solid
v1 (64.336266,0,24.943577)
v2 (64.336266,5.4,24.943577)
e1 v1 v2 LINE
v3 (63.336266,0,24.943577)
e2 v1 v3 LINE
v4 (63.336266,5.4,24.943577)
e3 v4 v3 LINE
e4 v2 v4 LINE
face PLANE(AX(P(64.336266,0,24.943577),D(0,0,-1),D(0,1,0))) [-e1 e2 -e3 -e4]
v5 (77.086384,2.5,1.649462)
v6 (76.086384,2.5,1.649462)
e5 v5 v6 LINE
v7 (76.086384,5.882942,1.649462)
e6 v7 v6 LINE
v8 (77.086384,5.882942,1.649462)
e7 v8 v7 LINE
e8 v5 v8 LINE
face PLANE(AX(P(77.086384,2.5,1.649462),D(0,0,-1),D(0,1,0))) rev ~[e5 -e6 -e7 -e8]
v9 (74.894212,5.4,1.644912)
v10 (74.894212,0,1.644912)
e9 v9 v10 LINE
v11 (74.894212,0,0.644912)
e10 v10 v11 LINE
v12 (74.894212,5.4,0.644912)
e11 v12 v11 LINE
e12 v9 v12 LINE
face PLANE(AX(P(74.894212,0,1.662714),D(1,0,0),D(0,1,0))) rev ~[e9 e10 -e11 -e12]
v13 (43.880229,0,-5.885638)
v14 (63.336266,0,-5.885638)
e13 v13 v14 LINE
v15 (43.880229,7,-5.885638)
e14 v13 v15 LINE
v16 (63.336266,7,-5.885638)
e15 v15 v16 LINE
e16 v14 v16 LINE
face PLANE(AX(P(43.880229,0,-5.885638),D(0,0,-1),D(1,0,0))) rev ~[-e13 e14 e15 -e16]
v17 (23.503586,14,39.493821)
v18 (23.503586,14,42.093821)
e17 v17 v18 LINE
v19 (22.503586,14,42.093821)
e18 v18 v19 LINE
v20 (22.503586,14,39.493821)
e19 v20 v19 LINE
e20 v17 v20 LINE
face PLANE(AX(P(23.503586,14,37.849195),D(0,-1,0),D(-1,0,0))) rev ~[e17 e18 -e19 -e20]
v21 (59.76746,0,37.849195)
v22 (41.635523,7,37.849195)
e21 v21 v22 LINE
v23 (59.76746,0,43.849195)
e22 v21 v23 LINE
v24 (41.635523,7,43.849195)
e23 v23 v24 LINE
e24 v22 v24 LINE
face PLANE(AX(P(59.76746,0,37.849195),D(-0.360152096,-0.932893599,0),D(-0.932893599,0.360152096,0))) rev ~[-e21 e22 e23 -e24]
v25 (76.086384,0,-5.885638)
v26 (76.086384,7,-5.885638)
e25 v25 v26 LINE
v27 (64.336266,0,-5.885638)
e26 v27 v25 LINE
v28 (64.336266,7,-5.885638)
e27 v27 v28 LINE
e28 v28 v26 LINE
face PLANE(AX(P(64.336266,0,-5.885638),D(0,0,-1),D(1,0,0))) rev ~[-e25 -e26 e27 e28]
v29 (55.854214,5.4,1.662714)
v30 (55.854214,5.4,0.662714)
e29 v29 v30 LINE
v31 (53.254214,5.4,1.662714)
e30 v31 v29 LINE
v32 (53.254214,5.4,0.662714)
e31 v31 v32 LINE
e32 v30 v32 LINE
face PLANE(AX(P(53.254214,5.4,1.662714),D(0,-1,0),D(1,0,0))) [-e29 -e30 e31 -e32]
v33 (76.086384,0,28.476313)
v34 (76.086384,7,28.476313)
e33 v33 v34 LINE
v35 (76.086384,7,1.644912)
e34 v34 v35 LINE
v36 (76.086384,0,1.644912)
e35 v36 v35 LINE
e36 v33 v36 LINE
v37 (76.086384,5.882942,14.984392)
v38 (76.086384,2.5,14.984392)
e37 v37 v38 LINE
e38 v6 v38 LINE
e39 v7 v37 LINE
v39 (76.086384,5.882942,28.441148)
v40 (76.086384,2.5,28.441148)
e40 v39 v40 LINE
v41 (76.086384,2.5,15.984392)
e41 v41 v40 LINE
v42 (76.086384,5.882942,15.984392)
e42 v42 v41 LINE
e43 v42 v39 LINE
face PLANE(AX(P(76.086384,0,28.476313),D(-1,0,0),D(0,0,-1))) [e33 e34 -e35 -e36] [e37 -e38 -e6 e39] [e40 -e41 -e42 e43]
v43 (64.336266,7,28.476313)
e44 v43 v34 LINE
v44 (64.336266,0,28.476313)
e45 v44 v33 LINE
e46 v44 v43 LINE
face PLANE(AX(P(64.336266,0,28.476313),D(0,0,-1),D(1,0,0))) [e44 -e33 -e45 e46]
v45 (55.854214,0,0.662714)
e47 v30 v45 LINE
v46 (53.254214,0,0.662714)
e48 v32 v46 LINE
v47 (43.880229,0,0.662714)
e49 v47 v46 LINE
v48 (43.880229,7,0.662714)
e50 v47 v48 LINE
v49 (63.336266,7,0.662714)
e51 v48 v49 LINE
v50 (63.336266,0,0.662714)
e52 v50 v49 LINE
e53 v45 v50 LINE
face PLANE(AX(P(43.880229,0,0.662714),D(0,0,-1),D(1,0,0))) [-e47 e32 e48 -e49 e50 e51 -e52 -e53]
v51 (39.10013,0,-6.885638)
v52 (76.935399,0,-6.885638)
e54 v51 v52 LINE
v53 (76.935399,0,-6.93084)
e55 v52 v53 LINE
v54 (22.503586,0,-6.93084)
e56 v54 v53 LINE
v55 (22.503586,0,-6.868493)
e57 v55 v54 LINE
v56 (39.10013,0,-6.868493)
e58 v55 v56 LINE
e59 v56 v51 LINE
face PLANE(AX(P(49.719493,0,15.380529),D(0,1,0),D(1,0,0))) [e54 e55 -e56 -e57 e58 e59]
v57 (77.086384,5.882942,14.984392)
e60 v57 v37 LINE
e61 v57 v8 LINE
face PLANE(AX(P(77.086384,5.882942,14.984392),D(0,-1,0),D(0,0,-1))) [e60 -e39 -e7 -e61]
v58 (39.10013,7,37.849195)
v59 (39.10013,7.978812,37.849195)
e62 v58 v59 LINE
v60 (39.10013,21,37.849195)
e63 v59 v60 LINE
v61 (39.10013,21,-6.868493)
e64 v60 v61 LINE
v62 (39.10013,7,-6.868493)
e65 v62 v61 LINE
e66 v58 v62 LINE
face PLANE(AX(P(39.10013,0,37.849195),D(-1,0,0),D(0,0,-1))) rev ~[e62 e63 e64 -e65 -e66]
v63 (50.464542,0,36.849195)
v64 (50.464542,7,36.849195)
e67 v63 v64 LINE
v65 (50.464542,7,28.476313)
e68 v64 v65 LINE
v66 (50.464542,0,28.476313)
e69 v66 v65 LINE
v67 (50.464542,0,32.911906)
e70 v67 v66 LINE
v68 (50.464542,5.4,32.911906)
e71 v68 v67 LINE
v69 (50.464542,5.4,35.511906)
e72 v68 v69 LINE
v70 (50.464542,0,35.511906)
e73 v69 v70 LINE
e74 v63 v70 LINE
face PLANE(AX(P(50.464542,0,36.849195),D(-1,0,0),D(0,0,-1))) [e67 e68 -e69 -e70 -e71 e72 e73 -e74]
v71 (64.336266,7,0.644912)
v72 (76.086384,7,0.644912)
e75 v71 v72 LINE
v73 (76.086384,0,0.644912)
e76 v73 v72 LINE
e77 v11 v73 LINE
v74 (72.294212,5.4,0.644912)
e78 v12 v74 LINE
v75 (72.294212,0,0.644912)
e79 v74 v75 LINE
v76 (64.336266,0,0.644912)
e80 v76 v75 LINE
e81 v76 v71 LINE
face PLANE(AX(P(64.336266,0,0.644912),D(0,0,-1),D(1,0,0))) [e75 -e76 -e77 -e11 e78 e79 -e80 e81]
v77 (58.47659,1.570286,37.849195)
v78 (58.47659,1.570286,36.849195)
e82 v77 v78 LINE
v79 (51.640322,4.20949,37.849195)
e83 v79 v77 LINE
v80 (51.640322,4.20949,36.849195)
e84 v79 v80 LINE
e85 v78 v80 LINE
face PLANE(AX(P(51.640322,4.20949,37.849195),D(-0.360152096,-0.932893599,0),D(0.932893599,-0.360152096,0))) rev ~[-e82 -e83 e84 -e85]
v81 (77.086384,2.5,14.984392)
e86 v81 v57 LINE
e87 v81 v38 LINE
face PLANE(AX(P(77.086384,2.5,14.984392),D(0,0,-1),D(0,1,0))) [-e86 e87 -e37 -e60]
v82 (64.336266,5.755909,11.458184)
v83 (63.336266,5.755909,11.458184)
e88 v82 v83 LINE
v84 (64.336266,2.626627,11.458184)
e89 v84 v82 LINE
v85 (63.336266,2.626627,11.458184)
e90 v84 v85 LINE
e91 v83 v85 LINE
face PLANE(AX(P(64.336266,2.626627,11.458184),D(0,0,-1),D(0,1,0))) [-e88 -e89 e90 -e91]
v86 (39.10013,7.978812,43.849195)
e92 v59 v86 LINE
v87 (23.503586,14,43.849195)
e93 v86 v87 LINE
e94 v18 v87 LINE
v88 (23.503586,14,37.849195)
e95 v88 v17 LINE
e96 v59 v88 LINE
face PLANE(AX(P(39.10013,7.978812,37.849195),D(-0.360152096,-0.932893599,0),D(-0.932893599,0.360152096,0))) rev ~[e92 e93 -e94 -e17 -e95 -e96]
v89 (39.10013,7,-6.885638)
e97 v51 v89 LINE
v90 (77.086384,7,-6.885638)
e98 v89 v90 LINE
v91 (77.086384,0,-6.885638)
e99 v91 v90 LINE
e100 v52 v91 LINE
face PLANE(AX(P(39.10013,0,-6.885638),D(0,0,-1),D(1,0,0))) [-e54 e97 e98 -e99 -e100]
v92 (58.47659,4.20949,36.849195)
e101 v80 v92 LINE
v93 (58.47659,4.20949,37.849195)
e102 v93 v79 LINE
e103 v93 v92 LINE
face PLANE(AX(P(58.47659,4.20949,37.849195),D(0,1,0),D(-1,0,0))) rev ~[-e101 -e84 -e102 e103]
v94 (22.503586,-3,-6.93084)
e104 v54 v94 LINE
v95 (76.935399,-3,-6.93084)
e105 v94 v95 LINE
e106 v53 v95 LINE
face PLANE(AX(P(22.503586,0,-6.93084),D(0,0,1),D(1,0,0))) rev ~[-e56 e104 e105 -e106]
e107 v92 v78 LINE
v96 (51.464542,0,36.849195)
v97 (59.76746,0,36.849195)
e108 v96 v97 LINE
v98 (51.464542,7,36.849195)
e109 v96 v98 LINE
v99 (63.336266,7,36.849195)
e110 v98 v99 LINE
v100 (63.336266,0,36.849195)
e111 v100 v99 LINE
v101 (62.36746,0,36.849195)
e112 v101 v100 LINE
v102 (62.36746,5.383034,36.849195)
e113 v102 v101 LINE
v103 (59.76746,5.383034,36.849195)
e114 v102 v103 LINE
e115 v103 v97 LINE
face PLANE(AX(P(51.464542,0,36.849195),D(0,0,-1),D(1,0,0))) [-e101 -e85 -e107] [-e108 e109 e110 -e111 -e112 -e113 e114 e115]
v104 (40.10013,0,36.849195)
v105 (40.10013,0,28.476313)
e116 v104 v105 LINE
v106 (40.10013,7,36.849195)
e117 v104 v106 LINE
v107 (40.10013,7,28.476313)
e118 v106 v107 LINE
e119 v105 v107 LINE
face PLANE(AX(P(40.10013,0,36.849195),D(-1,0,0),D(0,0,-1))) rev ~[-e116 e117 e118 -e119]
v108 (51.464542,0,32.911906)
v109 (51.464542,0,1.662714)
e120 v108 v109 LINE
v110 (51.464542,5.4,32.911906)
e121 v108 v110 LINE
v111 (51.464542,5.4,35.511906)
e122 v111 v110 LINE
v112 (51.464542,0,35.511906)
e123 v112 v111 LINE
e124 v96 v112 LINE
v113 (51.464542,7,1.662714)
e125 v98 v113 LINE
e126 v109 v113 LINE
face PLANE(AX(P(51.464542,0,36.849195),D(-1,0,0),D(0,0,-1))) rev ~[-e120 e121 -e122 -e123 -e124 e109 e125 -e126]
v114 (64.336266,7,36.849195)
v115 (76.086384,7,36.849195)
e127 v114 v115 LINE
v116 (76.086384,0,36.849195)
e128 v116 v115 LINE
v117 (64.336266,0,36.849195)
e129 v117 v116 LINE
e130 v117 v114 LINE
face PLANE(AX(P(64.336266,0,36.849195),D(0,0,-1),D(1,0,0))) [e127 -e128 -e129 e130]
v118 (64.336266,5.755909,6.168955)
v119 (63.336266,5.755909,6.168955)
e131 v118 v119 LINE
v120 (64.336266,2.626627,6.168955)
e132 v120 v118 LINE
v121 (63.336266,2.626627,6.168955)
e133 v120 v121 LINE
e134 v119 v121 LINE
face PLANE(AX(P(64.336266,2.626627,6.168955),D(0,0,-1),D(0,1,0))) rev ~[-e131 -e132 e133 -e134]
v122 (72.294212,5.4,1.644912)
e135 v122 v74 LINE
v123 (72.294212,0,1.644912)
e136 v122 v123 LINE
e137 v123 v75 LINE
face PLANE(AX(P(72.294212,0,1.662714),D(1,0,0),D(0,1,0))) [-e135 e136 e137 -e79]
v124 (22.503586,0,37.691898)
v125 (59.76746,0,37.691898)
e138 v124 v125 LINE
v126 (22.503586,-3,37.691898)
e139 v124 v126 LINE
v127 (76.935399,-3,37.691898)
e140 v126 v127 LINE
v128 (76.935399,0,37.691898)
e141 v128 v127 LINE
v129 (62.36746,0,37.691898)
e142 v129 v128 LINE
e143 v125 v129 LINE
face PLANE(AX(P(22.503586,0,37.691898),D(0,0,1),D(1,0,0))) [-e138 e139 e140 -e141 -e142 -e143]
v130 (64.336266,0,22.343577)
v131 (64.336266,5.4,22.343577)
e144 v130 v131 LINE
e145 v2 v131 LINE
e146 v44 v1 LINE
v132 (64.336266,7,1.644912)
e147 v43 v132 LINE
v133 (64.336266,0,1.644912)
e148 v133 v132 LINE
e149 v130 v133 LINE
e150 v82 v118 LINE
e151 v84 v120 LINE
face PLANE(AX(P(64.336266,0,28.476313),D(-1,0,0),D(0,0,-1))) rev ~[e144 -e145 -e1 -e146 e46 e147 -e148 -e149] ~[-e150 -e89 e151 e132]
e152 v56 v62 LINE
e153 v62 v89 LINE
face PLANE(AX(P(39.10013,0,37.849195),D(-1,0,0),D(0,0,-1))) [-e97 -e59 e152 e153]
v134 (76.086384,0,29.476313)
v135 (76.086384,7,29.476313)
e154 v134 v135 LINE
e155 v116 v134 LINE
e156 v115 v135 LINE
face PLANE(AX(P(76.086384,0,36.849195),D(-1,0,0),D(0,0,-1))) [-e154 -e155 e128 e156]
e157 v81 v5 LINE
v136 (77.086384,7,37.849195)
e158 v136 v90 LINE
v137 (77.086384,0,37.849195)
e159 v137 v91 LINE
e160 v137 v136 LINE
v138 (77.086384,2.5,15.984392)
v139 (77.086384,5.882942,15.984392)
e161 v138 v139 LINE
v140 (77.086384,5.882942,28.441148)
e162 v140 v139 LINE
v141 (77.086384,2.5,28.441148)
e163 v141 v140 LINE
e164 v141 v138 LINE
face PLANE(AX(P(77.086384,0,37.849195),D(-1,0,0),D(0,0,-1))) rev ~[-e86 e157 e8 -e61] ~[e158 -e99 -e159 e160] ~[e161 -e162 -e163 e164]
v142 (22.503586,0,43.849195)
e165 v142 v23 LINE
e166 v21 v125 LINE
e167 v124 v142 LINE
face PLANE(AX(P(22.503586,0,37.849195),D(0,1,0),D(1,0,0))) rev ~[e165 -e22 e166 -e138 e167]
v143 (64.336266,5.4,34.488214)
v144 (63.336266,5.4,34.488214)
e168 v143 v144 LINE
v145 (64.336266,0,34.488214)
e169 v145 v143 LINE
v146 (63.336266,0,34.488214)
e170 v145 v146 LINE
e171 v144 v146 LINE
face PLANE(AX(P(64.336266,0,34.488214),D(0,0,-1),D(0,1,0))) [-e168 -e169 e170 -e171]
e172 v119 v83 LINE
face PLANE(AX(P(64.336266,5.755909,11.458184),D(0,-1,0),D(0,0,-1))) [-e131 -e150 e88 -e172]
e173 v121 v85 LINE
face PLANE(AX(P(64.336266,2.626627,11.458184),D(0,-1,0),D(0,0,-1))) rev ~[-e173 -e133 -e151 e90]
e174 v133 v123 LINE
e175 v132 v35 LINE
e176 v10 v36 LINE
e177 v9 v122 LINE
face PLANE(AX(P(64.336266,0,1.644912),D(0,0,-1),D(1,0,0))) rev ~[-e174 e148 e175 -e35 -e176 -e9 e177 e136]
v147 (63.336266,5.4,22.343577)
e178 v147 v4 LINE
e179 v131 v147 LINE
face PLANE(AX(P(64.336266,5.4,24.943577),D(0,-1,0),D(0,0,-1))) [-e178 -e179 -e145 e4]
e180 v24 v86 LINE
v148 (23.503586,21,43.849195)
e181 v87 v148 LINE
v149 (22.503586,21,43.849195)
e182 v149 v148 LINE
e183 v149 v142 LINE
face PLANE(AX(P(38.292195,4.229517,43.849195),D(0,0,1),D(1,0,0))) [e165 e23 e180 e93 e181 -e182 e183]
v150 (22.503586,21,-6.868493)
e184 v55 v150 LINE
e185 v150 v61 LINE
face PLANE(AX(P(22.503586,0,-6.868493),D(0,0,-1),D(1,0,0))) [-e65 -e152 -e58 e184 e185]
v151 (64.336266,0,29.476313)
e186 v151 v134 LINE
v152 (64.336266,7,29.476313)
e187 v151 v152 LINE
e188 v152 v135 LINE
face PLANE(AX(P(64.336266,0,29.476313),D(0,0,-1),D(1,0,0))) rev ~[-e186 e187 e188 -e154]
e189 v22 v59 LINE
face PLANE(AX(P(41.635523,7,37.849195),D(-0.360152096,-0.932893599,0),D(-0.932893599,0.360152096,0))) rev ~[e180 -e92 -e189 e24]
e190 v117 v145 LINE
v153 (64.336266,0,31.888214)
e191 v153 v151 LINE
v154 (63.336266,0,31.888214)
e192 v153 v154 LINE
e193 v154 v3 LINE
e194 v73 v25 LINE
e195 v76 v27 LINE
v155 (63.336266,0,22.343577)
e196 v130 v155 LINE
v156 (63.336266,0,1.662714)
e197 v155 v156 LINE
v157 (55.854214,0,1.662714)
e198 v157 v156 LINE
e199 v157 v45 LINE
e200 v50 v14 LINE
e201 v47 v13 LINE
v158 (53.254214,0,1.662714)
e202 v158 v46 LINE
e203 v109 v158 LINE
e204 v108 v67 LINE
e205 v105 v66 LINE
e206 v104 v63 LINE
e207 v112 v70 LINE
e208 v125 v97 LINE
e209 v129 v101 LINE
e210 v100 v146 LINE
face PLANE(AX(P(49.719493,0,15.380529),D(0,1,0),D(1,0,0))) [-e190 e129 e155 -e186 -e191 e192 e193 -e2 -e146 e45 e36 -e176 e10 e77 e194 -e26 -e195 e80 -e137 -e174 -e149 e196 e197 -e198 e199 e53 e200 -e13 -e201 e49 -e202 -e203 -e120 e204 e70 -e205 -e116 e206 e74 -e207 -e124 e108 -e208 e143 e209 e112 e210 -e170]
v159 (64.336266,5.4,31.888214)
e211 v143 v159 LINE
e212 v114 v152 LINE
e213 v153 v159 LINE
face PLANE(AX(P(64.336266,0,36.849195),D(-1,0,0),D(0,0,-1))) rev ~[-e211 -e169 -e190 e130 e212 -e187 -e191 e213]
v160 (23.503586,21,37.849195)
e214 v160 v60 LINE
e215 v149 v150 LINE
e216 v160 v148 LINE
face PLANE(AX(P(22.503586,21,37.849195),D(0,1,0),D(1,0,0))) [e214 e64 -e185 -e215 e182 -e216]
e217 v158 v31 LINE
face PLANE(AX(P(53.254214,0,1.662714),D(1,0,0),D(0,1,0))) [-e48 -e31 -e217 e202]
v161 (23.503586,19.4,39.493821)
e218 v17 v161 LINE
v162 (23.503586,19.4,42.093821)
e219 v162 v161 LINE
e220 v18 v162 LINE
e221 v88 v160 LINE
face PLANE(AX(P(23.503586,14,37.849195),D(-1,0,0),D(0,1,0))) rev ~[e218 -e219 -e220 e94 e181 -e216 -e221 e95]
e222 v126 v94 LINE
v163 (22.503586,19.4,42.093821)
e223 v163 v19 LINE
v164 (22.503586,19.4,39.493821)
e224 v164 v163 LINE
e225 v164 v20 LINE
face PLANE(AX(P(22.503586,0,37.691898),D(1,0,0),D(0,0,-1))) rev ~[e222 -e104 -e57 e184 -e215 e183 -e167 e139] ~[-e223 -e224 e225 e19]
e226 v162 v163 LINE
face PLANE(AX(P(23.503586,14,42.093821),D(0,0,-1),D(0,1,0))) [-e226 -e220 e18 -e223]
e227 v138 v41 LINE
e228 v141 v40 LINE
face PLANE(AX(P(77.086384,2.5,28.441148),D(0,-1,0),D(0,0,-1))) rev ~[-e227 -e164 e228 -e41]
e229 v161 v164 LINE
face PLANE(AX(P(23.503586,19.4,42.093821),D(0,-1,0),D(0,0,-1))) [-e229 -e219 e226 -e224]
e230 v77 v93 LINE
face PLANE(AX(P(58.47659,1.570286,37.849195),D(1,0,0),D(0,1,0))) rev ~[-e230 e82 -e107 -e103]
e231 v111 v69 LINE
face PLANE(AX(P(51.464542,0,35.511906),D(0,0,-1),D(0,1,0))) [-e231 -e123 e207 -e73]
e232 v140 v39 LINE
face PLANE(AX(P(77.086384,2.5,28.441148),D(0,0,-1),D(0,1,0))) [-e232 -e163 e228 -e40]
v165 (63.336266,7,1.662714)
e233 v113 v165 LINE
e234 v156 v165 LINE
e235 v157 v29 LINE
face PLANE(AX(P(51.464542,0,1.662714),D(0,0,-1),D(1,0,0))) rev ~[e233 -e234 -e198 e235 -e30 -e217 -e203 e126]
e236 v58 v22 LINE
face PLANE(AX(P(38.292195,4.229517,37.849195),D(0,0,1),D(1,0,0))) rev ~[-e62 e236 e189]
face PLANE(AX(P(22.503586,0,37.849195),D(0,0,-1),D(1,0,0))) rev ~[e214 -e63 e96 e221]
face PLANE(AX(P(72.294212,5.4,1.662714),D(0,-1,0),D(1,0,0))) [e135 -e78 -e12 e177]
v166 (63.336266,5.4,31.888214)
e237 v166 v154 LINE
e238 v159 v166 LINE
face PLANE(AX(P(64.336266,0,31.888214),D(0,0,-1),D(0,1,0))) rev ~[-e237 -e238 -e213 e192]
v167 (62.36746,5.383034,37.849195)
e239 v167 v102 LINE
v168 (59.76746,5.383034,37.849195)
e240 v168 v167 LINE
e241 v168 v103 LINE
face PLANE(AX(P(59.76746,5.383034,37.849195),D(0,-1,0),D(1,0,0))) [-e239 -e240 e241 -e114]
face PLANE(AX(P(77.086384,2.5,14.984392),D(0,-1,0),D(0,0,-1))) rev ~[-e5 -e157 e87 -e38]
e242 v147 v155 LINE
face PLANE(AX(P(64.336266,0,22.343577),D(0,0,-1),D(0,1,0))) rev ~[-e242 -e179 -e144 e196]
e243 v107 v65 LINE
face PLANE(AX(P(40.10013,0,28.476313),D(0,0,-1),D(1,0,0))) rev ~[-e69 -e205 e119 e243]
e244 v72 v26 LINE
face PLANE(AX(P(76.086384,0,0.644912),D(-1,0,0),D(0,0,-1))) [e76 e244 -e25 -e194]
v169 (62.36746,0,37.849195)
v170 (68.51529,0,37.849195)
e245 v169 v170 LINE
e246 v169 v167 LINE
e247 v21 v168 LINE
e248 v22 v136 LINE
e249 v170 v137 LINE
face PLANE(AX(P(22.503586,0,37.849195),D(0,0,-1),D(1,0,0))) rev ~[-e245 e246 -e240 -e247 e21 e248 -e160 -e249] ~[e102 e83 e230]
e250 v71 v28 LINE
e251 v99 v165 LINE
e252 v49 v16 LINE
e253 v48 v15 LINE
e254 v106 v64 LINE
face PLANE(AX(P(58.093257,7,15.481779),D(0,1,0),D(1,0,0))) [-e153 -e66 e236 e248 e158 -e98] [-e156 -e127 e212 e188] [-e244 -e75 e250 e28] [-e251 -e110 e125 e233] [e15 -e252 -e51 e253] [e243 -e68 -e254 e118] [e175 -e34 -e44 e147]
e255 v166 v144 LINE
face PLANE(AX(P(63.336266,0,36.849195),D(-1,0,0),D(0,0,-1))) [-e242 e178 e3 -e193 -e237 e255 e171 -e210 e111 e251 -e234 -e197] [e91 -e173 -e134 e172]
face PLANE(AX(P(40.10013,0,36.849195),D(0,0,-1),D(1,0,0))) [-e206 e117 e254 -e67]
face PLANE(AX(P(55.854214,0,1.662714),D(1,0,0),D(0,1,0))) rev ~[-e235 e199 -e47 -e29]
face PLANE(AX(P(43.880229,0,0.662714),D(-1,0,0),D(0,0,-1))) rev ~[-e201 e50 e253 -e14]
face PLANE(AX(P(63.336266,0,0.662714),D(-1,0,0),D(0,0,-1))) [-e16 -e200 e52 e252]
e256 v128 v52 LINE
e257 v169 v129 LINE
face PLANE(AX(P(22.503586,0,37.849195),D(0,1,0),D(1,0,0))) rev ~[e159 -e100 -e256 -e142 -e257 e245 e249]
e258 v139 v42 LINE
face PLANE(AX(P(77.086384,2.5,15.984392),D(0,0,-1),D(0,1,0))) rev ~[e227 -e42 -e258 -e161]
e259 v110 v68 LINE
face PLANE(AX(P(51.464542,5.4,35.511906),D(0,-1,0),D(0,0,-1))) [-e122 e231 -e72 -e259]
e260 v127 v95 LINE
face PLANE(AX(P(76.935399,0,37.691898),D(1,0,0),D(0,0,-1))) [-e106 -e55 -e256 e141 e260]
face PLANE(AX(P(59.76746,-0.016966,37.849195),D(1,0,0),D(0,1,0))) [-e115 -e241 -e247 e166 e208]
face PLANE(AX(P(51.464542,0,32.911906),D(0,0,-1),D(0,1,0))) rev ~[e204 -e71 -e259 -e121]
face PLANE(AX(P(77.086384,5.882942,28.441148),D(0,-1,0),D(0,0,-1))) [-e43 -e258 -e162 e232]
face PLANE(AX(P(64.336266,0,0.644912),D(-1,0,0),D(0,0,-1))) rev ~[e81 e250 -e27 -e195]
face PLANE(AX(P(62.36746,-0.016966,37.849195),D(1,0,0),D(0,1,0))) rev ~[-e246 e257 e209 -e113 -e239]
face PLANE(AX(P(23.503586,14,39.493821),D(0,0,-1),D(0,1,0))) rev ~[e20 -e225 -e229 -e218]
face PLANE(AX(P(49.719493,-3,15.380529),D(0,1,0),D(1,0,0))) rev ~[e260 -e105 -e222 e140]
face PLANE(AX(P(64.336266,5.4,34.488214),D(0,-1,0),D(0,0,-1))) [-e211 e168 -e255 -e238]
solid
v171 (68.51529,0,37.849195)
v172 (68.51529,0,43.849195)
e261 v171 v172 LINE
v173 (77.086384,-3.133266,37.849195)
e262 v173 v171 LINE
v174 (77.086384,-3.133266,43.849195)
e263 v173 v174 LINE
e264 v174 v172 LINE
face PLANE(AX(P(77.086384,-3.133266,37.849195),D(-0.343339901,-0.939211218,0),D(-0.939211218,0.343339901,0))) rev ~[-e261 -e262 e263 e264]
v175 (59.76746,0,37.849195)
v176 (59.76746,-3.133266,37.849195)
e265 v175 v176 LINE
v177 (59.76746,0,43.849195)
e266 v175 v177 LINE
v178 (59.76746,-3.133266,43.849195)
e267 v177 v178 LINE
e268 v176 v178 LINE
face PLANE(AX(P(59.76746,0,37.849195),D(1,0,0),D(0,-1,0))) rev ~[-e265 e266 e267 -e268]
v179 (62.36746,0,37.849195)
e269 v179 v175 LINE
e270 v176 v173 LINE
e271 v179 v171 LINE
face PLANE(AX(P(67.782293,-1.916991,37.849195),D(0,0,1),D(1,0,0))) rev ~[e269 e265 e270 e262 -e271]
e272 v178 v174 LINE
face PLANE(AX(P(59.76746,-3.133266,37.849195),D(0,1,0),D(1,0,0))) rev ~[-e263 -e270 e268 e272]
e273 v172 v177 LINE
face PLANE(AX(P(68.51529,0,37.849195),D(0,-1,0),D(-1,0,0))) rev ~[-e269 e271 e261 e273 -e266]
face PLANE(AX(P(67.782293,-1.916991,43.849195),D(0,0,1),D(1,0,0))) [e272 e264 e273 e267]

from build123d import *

# Parameters (mm, degrees)
ESBO_O2_W                 = 37.986253967
ESBO_O2_H                 = 44.734832406
ESBO_O2_W_2               = 11.750117276
ESBO_O2_H_2               = 7.37288194
ESBO_O2_W_3               = 11.871724424
ESBO_O2_H_3               = 35.18648103
ESBO_O2_H_4               = 26.831400584
ESBO_O2_H_5               = 6.530549882
ESBO_O2_W_4               = 19.456037254
ESBO_O2_H_6               = 6.548351376
ESBO_O2_W_5               = 10.364412267
ESBO_O2_H_7               = 8.37288194
RESSALTO_EXTRUS_O3_DEPTH  = 7
ESBO_O3_W                 = 2.6
ESBO_O3_H                 = 5.4
CORTE_EXTRUS_O1_DEPTH     = 7
ESBO_O4_W                 = 2.6
ESBO_O4_H                 = 5.4
CORTE_EXTRUS_O2_DEPTH     = 7
ESBO_O5_W                 = 2.6
ESBO_O5_H                 = 5.4
CORTE_EXTRUS_O3_DEPTH     = 7
ESBO_O6_W                 = 2.6
ESBO_O6_H                 = 5.4
CORTE_EXTRUS_O4_DEPTH     = 7
ESBO_O7_W                 = 12.456756284
ESBO_O7_H                 = 3.38294224
ESBO_O7_W_2               = 13.334930508
CORTE_EXTRUS_O5_DEPTH     = 7
ESBO_O8_W                 = 5.289229733
ESBO_O8_H                 = 3.129282188
CORTE_EXTRUS_O6_DEPTH     = 7
ESBO_O9_W                 = 16.596543628
ESBO_O9_H                 = 44.717687617
RESSALTO_EXTRUS_O4_DEPTH  = 21
ESBO_O10_W                = 1
ESBO_O10_H                = 7
RESSALTO_EXTRUS_O5_DEPTH  = 6
ESBO_O12_W                = 2.6
ESBO_O12_H                = 5.4
CORTE_EXTRUS_O7_DEPTH     = 6
RESSALTO_EXTRUS_O10_DEPTH = 6
ESBO_O14_W                = 54.431813347
ESBO_O14_H                = 44.622738474
RESSALTO_EXTRUS_O21_DEPTH = 3
CORTE_EXTRUS_O8_DEPTH     = 10


with BuildPart() as part:
    # Esboço2 → Ressalto-extrusão3 (new body)
    with BuildSketch(Plane(origin=(0, 0, 0), x_dir=(1, 0, 0), z_dir=(0, 1, 0))):
        with Locations((58.093256618, -15.481778526)):
            Rectangle(ESBO_O2_W, ESBO_O2_H)
        with Locations((70.211324964, -33.162753759)):
            Rectangle(ESBO_O2_W_2, ESBO_O2_H_2, mode=Mode.SUBTRACT)
        with Locations((57.400404114, -19.255954214)):
            Rectangle(ESBO_O2_W_3, ESBO_O2_H_3, mode=Mode.SUBTRACT)
        with Locations((70.211324964, -15.060612497)):
            Rectangle(ESBO_O2_W_2, ESBO_O2_H_4, mode=Mode.SUBTRACT)
        with Locations((70.211324964, 2.620362736)):
            Rectangle(ESBO_O2_W_2, ESBO_O2_H_5, mode=Mode.SUBTRACT)
        with Locations((53.608247699, 2.611461989)):
            Rectangle(ESBO_O2_W_4, ESBO_O2_H_6, mode=Mode.SUBTRACT)
        with Locations((45.282335769, -32.662753759)):
            Rectangle(ESBO_O2_W_5, ESBO_O2_H_7, mode=Mode.SUBTRACT)
    extrude(amount=RESSALTO_EXTRUS_O3_DEPTH)

    # Esboço3 → Corte-extrusão1 (cut)
    with BuildSketch(Plane.XY.offset(37.849194729)):
        with Locations((61.067460433, 2.683034247)):
            Rectangle(ESBO_O3_W, ESBO_O3_H)
    extrude(amount=-CORTE_EXTRUS_O1_DEPTH, mode=Mode.SUBTRACT)

    # Esboço4 → Corte-extrusão2 (cut)
    with BuildSketch(Plane(origin=(51.464541902, 0, 0), x_dir=(0, 0, -1), z_dir=(1, 0, 0))):
        with Locations((-34.211906201, 2.7)):
            Rectangle(ESBO_O4_W, ESBO_O4_H)
    extrude(amount=-CORTE_EXTRUS_O2_DEPTH, mode=Mode.SUBTRACT)

    # Esboço5 → Corte-extrusão3 (cut)
    with BuildSketch(Plane(origin=(64.336266326, 0, 0), x_dir=(0, 0, -1), z_dir=(1, 0, 0))):
        with Locations((-23.64357665, 2.7)):
            Rectangle(ESBO_O5_W, ESBO_O5_H)
        with Locations((-33.18821391, 2.7)):
            Rectangle(ESBO_O5_W, ESBO_O5_H)
    extrude(amount=-CORTE_EXTRUS_O3_DEPTH, mode=Mode.SUBTRACT)

    # Esboço6 → Corte-extrusão4 (cut)
    with BuildSketch(Plane.XY.offset(1.662713699)):
        with Locations((54.554214473, 2.7)):
            Rectangle(ESBO_O6_W, ESBO_O6_H)
        with Locations((73.594212294, 2.7)):
            Rectangle(ESBO_O6_W, ESBO_O6_H)
    extrude(amount=-CORTE_EXTRUS_O4_DEPTH, mode=Mode.SUBTRACT)

    # Esboço7 → Corte-extrusão5 (cut)
    with BuildSketch(Plane(origin=(77.086383602, 0, 0), x_dir=(0, 0, -1), z_dir=(1, 0, 0))):
        with Locations((-22.212770341, 4.19147112)):
            Rectangle(ESBO_O7_W, ESBO_O7_H)
        with Locations((-8.316926945, 4.19147112)):
            Rectangle(ESBO_O7_W_2, ESBO_O7_H)
    extrude(amount=-CORTE_EXTRUS_O5_DEPTH, mode=Mode.SUBTRACT)

    # Esboço8 → Corte-extrusão6 (cut)
    with BuildSketch(Plane(origin=(64.336266326, 0, 0), x_dir=(0, 0, -1), z_dir=(1, 0, 0))):
        with Locations((-8.813569548, 4.191268224)):
            Rectangle(ESBO_O8_W, ESBO_O8_H)
    extrude(amount=-CORTE_EXTRUS_O6_DEPTH, mode=Mode.SUBTRACT)

    # Esboço9 → Ressalto-extrusão4 (add)
    with BuildSketch(Plane(origin=(0, 0, 0), x_dir=(1, 0, 0), z_dir=(0, 1, 0))):
        with Locations((30.801857821, -15.490350921)):
            Rectangle(ESBO_O9_W, ESBO_O9_H)
    extrude(amount=RESSALTO_EXTRUS_O4_DEPTH)

    # Esboço10 → Ressalto-extrusão5 (add)
    with BuildSketch(Plane.XY.offset(37.849194729)):
        with Locations((23.003586007, 17.5)):
            Rectangle(ESBO_O10_W, ESBO_O10_H)
    extrude(amount=RESSALTO_EXTRUS_O5_DEPTH)

    # Esboço12 → Corte-extrusão7 (cut)
    with BuildSketch(Plane(origin=(23.503586007, 0, 0), x_dir=(0, 0, -1), z_dir=(1, 0, 0))):
        with Locations((-40.793821366, 16.7)):
            Rectangle(ESBO_O12_W, ESBO_O12_H)
    extrude(amount=-CORTE_EXTRUS_O7_DEPTH, mode=Mode.SUBTRACT)

    # Esboço11 → Ressalto-extrusão10 (add)
    with BuildSketch(Plane.XY.offset(37.849194729)):
        Polygon((39.100129635, 7.978811855), (23.503586007, 14), (22.503586007, 14), (22.503586007, 0), (59.767460433, 0), (41.63552322, 7), (39.100129635, 7), align=None)
        Polygon((62.367460433, 0), (59.767460433, 0), (59.767460433, -3.133265808), (77.086383602, -3.133265808), (68.515290094, 0), align=None)
        Polygon((41.63552322, 7), (39.100129635, 7.978811855), (39.100129635, 7), align=None)
    extrude(amount=RESSALTO_EXTRUS_O10_DEPTH)

    # Esboço14 → Ressalto-extrusão21 (add)
    with BuildSketch(Plane(origin=(0, 0, 0), x_dir=(1, 0, 0), z_dir=(0, 1, 0))):
        with Locations((49.719492681, -15.380529079)):
            Rectangle(ESBO_O14_W, ESBO_O14_H)
    extrude(amount=-RESSALTO_EXTRUS_O21_DEPTH)

    # Esboço15 → Corte-extrusão8 (cut)
    with BuildSketch(Plane.XY.offset(37.849194729)):
        Polygon((51.640321605, 4.209489794), (58.47658994, 1.570285952), (58.47658994, 4.209489794), align=None)
    extrude(amount=-CORTE_EXTRUS_O8_DEPTH, mode=Mode.SUBTRACT)


solid = part.part
